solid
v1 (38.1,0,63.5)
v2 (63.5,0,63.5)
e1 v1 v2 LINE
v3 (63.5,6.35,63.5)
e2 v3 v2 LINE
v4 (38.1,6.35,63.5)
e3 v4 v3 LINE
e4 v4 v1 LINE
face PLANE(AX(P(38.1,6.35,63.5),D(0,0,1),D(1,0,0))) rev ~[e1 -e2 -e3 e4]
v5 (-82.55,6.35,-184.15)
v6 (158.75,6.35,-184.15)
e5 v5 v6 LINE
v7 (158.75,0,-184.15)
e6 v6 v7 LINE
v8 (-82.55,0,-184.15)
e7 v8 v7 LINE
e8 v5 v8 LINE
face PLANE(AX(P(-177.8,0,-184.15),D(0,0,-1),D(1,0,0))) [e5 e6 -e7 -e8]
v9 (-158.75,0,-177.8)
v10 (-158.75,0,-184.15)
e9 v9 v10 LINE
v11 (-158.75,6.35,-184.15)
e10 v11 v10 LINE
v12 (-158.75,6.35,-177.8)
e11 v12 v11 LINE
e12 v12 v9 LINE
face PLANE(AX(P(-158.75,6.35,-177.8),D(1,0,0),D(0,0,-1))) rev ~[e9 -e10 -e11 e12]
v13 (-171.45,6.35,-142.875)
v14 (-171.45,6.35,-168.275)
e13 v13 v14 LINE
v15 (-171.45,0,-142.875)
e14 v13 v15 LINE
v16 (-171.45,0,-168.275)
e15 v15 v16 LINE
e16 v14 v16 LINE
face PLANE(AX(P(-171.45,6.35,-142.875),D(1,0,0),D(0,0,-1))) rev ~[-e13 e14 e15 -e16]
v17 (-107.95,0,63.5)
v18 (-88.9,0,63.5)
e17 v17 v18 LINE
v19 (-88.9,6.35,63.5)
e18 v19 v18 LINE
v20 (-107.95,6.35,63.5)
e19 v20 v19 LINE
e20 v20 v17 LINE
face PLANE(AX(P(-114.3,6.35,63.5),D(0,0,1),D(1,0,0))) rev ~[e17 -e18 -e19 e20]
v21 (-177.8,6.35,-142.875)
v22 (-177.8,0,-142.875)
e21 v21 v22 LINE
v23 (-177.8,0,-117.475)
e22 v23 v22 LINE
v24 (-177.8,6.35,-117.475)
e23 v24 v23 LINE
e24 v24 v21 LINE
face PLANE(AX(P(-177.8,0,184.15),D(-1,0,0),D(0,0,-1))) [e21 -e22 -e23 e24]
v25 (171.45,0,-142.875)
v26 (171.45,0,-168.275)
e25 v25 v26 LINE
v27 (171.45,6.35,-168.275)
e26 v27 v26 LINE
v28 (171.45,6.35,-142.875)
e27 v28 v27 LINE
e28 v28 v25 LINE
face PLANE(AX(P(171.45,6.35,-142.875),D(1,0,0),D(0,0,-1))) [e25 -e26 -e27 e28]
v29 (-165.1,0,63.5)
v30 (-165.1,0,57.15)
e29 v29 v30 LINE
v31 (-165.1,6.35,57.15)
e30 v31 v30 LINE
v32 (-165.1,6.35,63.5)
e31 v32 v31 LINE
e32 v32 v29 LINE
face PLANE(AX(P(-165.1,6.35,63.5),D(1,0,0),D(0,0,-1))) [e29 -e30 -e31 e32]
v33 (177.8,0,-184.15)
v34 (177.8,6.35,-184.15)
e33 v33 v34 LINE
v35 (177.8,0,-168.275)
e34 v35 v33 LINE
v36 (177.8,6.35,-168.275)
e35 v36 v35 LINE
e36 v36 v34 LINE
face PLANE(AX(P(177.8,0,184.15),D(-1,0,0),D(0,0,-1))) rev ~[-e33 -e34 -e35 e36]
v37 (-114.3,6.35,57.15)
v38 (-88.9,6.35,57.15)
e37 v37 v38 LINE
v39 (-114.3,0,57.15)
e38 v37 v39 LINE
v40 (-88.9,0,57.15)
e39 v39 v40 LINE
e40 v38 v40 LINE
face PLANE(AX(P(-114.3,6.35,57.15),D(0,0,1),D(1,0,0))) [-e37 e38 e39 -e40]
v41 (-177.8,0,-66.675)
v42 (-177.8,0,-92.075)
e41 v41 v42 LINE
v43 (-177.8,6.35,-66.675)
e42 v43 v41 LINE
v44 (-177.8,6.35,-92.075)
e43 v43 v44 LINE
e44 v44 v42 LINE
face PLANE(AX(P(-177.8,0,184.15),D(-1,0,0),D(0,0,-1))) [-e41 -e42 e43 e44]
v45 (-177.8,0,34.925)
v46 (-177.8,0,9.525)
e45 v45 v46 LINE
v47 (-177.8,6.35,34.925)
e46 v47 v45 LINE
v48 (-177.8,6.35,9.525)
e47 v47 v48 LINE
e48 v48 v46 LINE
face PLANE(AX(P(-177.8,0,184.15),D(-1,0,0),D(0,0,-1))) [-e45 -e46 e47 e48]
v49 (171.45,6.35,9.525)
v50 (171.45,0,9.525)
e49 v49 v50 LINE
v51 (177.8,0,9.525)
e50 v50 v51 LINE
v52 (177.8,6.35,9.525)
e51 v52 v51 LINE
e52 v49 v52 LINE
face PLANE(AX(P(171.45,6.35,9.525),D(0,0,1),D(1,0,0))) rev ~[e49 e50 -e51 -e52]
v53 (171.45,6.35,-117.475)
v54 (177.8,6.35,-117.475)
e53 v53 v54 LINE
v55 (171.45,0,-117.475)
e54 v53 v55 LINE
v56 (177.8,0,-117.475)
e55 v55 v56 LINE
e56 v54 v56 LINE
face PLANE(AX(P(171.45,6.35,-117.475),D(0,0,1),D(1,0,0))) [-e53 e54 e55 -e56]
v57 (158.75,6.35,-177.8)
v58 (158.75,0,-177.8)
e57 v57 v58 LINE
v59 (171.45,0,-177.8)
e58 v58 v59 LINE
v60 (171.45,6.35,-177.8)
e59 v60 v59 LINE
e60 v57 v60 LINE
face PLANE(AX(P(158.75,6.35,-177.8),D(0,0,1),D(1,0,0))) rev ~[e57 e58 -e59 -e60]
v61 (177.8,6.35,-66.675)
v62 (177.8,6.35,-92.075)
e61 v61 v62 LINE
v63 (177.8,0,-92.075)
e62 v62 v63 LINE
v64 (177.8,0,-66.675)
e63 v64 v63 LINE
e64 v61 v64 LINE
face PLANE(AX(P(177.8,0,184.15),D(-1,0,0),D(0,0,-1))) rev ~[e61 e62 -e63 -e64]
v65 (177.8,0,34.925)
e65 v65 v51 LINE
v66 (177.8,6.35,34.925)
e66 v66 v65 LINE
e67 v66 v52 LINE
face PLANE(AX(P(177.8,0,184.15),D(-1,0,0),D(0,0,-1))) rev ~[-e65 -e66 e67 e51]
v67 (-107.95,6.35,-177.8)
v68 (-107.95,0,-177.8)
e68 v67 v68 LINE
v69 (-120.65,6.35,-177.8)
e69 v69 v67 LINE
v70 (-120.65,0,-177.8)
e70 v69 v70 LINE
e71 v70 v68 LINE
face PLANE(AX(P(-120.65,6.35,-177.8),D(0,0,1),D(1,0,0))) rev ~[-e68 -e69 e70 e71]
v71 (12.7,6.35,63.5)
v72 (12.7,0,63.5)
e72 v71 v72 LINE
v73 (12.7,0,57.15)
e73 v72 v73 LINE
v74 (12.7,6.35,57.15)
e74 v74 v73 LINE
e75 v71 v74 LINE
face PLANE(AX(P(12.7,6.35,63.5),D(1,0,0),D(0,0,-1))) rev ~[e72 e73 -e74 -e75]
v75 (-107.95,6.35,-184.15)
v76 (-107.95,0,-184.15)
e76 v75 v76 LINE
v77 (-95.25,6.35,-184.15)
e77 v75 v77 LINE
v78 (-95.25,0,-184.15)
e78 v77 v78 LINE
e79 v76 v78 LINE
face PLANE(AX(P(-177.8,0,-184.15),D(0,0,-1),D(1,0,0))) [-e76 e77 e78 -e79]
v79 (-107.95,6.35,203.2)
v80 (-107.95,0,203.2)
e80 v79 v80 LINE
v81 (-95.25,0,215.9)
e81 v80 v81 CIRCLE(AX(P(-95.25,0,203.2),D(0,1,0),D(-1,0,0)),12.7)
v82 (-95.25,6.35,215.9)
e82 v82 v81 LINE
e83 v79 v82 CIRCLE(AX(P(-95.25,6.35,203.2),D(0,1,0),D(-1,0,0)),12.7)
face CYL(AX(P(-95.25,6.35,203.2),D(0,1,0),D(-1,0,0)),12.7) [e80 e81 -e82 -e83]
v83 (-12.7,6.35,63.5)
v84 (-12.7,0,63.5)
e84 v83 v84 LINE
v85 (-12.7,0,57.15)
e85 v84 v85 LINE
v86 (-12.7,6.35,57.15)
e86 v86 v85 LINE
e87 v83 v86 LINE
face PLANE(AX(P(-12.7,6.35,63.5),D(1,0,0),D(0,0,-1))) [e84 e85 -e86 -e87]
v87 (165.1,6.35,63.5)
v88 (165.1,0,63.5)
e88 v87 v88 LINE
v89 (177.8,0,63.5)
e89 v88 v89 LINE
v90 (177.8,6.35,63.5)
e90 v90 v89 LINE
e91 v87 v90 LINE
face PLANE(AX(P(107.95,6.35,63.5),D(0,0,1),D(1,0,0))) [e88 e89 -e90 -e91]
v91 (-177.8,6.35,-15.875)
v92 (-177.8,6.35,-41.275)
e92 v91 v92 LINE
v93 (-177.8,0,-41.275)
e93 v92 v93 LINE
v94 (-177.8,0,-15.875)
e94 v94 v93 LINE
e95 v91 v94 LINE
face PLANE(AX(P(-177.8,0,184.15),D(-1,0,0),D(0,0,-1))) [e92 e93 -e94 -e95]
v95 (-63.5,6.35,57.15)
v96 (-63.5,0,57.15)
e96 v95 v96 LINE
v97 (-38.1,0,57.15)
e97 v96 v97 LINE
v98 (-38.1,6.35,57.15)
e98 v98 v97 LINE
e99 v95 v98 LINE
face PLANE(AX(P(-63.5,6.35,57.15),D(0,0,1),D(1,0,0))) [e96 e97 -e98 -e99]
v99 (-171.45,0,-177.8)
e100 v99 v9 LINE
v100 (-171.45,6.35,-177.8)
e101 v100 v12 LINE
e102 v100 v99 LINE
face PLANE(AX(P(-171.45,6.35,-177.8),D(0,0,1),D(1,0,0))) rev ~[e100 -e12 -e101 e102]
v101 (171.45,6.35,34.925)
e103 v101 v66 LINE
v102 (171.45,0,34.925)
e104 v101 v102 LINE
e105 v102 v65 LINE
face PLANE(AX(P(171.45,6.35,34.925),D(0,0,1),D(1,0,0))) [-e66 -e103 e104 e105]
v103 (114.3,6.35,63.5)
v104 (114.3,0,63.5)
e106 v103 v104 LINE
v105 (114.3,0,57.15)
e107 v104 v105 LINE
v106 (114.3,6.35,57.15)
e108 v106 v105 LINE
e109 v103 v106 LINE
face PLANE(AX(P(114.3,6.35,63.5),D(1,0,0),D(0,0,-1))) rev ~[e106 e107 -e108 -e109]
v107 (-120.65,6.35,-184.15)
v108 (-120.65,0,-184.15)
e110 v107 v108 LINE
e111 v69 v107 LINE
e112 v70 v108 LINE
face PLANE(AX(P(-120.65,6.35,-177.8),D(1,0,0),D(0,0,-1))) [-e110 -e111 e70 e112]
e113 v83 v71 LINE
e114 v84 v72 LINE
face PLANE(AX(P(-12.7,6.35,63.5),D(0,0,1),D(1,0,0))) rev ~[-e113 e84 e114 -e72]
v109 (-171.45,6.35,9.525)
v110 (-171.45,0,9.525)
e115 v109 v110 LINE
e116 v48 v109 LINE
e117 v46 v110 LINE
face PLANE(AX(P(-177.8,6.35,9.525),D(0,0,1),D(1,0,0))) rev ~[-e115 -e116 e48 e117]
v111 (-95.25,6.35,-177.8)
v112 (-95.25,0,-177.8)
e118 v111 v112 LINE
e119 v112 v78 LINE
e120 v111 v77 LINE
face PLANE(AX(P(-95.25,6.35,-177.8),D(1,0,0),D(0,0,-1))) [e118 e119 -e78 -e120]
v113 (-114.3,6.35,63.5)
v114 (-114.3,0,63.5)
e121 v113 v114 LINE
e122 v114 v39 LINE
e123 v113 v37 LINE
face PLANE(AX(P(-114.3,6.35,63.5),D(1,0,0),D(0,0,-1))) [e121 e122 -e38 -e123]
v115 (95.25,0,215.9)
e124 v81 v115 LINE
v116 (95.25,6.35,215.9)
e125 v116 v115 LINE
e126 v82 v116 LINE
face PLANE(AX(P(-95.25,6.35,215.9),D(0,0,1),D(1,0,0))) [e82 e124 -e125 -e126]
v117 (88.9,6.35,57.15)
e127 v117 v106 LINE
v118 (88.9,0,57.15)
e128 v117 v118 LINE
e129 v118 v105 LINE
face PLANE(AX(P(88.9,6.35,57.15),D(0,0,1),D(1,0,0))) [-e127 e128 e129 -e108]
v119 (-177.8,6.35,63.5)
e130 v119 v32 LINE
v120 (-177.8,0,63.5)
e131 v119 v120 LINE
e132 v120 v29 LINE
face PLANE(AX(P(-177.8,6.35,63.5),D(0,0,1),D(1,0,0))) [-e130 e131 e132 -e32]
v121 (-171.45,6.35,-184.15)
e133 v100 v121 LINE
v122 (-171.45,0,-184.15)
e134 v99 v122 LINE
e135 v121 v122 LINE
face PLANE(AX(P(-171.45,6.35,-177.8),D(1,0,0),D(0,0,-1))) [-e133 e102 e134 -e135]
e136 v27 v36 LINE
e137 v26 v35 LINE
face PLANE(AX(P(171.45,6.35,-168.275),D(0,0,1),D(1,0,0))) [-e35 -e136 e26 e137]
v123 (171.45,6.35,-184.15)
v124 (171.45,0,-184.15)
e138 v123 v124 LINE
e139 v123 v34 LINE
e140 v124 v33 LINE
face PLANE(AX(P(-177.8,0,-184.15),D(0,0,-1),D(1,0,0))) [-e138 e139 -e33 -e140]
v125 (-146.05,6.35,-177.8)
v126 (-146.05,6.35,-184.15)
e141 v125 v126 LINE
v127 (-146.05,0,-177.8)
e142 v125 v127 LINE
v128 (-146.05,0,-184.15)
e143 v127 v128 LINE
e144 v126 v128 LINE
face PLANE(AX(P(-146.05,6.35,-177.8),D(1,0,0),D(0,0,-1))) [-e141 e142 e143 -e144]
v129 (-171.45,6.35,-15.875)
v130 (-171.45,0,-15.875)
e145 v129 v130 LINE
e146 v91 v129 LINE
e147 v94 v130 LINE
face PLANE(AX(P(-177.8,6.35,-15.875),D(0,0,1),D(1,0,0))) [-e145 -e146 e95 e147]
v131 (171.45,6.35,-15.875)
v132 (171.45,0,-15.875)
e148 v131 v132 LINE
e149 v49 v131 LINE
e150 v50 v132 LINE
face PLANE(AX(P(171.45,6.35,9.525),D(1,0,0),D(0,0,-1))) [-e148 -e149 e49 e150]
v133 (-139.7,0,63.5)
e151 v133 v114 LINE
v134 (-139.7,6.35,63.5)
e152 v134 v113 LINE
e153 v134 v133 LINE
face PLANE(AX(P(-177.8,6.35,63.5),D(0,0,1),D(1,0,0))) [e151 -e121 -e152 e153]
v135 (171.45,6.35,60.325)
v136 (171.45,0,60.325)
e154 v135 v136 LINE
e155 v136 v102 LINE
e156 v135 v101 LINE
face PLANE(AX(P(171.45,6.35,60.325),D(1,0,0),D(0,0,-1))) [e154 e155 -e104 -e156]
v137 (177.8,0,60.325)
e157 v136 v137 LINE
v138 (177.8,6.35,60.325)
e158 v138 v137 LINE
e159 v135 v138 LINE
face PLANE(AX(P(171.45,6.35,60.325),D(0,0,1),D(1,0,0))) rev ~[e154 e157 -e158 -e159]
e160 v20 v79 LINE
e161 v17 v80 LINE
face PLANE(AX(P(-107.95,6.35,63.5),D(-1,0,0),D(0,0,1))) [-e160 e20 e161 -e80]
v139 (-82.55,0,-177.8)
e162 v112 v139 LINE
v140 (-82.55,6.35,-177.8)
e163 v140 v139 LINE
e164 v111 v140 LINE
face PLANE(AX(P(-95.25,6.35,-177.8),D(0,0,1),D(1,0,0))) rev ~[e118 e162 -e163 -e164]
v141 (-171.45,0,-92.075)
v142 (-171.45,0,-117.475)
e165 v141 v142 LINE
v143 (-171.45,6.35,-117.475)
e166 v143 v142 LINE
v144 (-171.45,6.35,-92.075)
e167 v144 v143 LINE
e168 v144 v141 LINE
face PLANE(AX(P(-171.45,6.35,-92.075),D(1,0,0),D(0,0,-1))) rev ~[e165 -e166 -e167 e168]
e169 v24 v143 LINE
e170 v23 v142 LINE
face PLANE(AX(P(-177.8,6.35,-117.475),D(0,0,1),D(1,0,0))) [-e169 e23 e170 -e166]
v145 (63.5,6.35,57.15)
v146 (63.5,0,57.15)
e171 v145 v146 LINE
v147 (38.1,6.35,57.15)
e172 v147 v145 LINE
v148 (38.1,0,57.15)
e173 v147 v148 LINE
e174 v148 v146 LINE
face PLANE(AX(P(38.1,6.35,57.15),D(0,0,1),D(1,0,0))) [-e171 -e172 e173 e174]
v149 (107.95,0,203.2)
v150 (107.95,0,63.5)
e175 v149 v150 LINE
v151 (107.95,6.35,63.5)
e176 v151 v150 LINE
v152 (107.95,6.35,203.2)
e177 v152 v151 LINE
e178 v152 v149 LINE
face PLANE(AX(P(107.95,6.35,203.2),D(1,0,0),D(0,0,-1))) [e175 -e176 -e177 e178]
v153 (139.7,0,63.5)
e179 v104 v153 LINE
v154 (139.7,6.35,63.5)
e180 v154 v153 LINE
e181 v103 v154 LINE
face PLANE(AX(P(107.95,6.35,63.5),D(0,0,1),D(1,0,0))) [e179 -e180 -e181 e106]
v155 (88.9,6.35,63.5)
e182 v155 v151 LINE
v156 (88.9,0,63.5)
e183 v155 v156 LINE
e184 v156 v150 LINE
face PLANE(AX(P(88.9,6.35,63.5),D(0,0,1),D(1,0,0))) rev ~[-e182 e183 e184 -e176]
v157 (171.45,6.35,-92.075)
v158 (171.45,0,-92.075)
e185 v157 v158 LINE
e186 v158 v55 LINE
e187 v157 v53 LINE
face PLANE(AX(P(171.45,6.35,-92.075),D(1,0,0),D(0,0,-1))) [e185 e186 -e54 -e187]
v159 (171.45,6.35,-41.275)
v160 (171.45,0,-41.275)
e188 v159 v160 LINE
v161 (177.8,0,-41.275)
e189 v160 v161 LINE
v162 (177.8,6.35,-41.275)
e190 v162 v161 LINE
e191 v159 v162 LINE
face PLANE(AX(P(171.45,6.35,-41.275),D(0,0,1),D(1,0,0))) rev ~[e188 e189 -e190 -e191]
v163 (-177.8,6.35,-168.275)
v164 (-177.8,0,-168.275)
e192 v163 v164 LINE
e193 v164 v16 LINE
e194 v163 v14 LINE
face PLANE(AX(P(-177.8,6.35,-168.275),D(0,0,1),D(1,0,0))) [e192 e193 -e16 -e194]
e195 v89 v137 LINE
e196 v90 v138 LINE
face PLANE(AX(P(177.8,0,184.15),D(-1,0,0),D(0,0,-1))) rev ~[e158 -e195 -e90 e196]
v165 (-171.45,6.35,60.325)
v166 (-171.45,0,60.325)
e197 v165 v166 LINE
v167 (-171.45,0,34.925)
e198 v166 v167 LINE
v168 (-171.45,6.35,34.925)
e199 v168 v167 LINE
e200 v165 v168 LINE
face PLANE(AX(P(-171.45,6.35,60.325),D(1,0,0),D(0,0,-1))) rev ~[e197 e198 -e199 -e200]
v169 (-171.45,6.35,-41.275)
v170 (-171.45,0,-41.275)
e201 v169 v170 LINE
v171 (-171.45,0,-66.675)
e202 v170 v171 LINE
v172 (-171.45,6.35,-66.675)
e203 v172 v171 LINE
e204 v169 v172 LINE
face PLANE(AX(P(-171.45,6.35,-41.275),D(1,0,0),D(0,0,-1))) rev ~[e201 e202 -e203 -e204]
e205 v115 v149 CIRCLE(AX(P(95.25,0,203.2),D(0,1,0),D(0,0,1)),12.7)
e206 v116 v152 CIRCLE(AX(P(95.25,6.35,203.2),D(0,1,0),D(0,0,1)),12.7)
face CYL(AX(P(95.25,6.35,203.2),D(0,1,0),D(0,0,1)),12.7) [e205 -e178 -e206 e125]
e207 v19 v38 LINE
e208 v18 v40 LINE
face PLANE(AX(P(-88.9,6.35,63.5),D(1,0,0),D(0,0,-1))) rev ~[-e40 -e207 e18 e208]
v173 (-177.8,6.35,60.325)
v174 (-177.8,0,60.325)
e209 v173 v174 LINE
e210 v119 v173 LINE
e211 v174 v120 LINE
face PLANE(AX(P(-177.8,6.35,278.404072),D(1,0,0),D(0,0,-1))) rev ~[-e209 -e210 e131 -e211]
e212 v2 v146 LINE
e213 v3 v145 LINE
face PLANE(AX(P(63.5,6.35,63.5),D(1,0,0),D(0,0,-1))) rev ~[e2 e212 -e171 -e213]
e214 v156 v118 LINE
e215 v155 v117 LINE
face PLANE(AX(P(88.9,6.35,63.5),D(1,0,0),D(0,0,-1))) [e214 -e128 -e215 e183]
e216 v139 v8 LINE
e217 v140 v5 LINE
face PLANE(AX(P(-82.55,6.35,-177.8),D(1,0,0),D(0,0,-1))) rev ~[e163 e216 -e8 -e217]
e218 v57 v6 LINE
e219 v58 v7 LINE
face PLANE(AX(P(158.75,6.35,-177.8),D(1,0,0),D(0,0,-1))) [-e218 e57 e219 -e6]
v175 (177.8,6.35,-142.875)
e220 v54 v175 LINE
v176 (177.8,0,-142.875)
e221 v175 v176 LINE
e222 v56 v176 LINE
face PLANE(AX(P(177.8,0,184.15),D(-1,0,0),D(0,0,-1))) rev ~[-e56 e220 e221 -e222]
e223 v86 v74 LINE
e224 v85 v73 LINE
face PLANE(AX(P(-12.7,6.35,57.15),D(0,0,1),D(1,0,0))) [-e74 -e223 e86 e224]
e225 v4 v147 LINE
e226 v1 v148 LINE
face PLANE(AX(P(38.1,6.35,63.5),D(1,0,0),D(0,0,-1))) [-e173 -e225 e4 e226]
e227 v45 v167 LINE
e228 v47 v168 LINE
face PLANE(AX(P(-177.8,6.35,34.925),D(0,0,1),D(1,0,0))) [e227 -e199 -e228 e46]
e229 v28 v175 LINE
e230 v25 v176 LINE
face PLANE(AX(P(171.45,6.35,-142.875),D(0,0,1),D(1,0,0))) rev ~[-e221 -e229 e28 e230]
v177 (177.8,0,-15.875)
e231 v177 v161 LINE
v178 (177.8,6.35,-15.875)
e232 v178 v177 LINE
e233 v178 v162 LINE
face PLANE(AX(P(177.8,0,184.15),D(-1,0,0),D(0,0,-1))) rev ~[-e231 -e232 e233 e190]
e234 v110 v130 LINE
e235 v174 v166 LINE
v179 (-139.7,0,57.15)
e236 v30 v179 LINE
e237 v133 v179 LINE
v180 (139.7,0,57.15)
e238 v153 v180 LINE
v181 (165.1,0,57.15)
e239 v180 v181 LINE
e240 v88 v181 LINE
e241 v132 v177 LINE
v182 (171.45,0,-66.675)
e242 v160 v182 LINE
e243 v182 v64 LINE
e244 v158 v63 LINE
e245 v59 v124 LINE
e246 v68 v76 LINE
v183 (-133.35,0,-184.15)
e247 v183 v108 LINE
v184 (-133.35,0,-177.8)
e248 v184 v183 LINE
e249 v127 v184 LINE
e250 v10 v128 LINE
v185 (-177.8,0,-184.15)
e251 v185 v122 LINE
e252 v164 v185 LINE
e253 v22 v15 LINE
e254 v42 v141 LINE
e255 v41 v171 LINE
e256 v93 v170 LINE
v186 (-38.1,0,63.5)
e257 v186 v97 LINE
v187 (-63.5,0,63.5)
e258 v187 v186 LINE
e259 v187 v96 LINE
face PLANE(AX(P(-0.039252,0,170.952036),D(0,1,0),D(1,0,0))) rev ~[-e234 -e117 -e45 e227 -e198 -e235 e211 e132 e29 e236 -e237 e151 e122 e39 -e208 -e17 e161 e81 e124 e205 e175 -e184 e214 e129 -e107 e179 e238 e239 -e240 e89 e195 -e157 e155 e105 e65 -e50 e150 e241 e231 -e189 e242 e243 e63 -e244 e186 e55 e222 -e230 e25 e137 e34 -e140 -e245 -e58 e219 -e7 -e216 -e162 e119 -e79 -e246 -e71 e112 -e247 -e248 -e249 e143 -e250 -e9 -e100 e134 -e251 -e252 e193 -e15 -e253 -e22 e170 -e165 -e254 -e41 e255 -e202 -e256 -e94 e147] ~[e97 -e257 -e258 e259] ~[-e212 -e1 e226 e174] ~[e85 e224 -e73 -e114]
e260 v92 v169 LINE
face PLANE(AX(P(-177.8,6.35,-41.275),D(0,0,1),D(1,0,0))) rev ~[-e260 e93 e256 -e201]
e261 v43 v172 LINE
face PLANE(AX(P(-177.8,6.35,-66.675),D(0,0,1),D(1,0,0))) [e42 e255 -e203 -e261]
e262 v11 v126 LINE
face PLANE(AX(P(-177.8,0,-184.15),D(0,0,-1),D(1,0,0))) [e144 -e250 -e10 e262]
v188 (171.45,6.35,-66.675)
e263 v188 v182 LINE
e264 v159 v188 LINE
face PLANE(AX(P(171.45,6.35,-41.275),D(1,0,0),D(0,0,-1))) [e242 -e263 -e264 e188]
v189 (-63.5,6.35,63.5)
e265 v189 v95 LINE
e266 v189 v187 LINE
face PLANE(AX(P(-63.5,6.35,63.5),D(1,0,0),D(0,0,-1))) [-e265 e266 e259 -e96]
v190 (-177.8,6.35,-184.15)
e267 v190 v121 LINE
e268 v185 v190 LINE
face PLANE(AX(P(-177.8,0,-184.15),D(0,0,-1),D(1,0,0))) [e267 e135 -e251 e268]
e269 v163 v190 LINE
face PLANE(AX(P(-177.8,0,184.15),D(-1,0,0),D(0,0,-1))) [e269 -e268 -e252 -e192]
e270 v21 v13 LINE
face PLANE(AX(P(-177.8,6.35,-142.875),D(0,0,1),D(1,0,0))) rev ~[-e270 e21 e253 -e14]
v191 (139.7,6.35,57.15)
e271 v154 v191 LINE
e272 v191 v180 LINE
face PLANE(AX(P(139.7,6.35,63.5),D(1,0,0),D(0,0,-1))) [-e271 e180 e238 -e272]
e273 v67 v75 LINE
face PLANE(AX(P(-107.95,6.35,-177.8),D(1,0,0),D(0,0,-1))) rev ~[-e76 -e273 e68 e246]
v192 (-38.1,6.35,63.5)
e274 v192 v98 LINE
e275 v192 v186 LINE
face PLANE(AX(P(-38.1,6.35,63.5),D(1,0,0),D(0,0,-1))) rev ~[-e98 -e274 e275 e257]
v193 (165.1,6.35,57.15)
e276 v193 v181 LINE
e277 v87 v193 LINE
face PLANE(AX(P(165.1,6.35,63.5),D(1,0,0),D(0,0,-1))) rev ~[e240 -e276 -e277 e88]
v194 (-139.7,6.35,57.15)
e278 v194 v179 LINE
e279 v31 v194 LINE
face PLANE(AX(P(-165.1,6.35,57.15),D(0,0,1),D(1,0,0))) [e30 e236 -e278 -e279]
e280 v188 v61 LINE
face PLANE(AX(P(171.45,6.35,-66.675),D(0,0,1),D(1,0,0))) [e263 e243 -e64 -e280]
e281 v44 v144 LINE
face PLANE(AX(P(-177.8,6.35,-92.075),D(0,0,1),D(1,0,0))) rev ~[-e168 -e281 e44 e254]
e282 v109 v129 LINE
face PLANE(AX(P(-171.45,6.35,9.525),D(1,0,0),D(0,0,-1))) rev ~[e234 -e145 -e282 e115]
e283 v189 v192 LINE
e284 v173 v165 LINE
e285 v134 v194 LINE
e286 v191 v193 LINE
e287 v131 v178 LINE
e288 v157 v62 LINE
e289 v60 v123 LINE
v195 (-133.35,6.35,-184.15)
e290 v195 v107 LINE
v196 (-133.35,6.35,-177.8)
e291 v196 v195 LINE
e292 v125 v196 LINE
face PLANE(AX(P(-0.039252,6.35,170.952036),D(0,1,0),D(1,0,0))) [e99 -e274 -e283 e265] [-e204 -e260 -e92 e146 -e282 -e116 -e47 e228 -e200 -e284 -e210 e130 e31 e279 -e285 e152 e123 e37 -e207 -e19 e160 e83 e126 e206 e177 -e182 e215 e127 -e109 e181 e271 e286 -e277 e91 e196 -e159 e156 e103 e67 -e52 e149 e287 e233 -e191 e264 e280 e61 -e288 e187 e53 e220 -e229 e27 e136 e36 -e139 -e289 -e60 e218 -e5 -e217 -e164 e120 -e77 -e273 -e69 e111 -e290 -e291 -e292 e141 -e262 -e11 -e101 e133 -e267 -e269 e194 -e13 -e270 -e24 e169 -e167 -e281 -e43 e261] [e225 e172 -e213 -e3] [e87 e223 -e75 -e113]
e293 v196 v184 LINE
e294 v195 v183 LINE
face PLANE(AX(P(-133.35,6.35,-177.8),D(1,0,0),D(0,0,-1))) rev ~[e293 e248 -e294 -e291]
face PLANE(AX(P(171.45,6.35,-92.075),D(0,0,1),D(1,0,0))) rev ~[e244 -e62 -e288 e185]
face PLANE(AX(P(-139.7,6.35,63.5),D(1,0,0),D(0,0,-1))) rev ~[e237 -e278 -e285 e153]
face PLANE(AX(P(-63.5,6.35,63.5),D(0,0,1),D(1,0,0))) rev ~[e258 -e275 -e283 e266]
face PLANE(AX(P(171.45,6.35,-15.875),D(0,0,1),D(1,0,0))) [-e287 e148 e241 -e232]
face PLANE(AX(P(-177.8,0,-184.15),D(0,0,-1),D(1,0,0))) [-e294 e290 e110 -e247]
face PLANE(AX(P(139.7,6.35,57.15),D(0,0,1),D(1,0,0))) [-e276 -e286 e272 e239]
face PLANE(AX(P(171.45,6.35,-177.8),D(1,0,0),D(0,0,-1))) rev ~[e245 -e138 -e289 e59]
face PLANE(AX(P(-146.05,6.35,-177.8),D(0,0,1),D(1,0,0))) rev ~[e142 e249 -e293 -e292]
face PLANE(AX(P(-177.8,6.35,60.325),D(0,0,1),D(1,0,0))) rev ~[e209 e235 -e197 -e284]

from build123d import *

# Parameters (mm, degrees)
ESQUISSE1_W                     = 355.6
ESQUISSE1_H                     = 368.3
BOSS_EXTRU_1_DEPTH              = 6.35
ESQUISSE2_W                     = 6.35
ESQUISSE2_H                     = 25.4
ENL_V_MAT_EXTRU_1_DEPTH         = 6.35
R_P_TITION_LIN_AIRE1_COUNT      = 7
R_P_TITION_LIN_AIRE1_PITCH      = 50.8
R_P_TITION_LIN_AIRE1_COUNT_DIR2 = 2
R_P_TITION_LIN_AIRE1_PITCH_DIR2 = 349.25
ESQUISSE3_W                     = 25.4
ESQUISSE3_H                     = 6.35
ENL_V_MAT_EXTRU_2_DEPTH         = 6.35
R_P_TITION_LIN_AIRE2_COUNT      = 7
R_P_TITION_LIN_AIRE2_PITCH      = 50.8
ESQUISSE4_W                     = 25.4
ESQUISSE4_H                     = 6.35
ENL_V_MAT_EXTRU_3_DEPTH         = 6.35
R_P_TITION_LIN_AIRE3_COUNT      = 7
R_P_TITION_LIN_AIRE3_PITCH      = 50.8
ESQUISSE5_W                     = 12.7
ESQUISSE5_H                     = 6.35
ENL_V_MAT_EXTRU_4_DEPTH         = 6.35
SKETCH3_W                       = 355.521495667
SKETCH3_H                       = 214.90407248
BOSS_EXTRUDE1_DEPTH             = 6.35
CUT_EXTRUDE2_DEPTH              = 331.396716197


with BuildPart() as part:
    # Esquisse1 → Boss.-Extru.1 (new body)
    with BuildSketch(Plane(origin=(0, 0, 0), x_dir=(1, 0, 0), z_dir=(0, 1, 0))):
        Rectangle(ESQUISSE1_W, ESQUISSE1_H)
    extrude(amount=BOSS_EXTRU_1_DEPTH)

    # Esquisse2 → Enlèv. mat.-Extru.1 (cut)
    with BuildSketch(Plane(origin=(0, 6.35, 0), x_dir=(1, 0, 0), z_dir=(0, 1, 0))):
        with Locations((174.625, -149.225)):
            Rectangle(ESQUISSE2_W, ESQUISSE2_H)
    enl_v_mat_extru_1 = extrude(amount=-ENL_V_MAT_EXTRU_1_DEPTH, mode=Mode.SUBTRACT)

    # Répétition linéaire1: Enl_v. mat.-Extru.1 7 × 2
    with Locations(*[(-j * R_P_TITION_LIN_AIRE1_PITCH_DIR2, 0, -i * R_P_TITION_LIN_AIRE1_PITCH) for i in range(R_P_TITION_LIN_AIRE1_COUNT) for j in range(R_P_TITION_LIN_AIRE1_COUNT_DIR2) if (i, j) != (0, 0)]):
        add(enl_v_mat_extru_1, mode=Mode.SUBTRACT)

    # Esquisse3 → Enlèv. mat.-Extru.2 (cut)
    with BuildSketch(Plane(origin=(0, 6.35, 0), x_dir=(1, 0, 0), z_dir=(0, 1, 0))):
        with Locations((-152.4, -180.975)):
            Rectangle(ESQUISSE3_W, ESQUISSE3_H)
    enl_v_mat_extru_2 = extrude(amount=-ENL_V_MAT_EXTRU_2_DEPTH, mode=Mode.SUBTRACT)

    # Répétition linéaire2: Enlèv. mat.-Extru.2 ×7
    with Locations(*[(i * R_P_TITION_LIN_AIRE2_PITCH, 0, 0) for i in range(1, R_P_TITION_LIN_AIRE2_COUNT)]):
        add(enl_v_mat_extru_2, mode=Mode.SUBTRACT)

    # Esquisse4 → Enlèv. mat.-Extru.3 (cut)
    with BuildSketch(Plane(origin=(0, 6.35, 0), x_dir=(1, 0, 0), z_dir=(0, 1, 0))):
        with Locations((-152.4, -60.325)):
            Rectangle(ESQUISSE4_W, ESQUISSE4_H)
    enl_v_mat_extru_3 = extrude(amount=-ENL_V_MAT_EXTRU_3_DEPTH, mode=Mode.SUBTRACT)

    # Répétition linéaire3: Enlèv. mat.-Extru.3 ×7
    with Locations(*[(i * R_P_TITION_LIN_AIRE3_PITCH, 0, 0) for i in range(1, R_P_TITION_LIN_AIRE3_COUNT)]):
        add(enl_v_mat_extru_3, mode=Mode.SUBTRACT)

    # Esquisse5 → Enlèv. mat.-Extru.4 (cut)
    with BuildSketch(Plane(origin=(0, 6.35, 0), x_dir=(1, 0, 0), z_dir=(0, 1, 0))):
        with Locations((-165.1, 180.975)):
            Rectangle(ESQUISSE5_W, ESQUISSE5_H)
        with Locations((165.1, 180.975)):
            Rectangle(ESQUISSE5_W, ESQUISSE5_H)
        with Locations((-139.7, 180.975)):
            Rectangle(ESQUISSE5_W, ESQUISSE5_H)
        with Locations((-114.3, 180.975)):
            Rectangle(ESQUISSE5_W, ESQUISSE5_H)
        with Locations((-88.9, 180.975)):
            Rectangle(ESQUISSE5_W, ESQUISSE5_H)
    extrude(amount=-ENL_V_MAT_EXTRU_4_DEPTH, mode=Mode.SUBTRACT)

    # Sketch3 → Boss-Extrude1 (add)
    with BuildSketch(Plane(origin=(0, 6.35, 0), x_dir=(1, 0, 0), z_dir=(0, 1, 0))):
        with Locations((-0.039252167, -170.95203624)):
            Rectangle(SKETCH3_W, SKETCH3_H)
    extrude(amount=-BOSS_EXTRUDE1_DEPTH)

    # Sketch1 → Cut-Extrude2 (cut, through all)
    with BuildSketch(Plane(origin=(0, 6.35, 0), x_dir=(1, 0, 0), z_dir=(0, 1, 0))):
        with BuildLine():
            Line((-95.25, -215.9), (95.25, -215.9))
            ThreePointArc((95.25, -215.9), (104.230256121, -212.180256121), (107.95, -203.2))
            Line((107.95, -203.2), (107.95, -63.5))
            Line((107.95, -63.5), (177.8, -63.5))
            Line((177.8, -63.5), (177.8, -278.40407248))
            Line((177.8, -278.40407248), (-177.8, -278.40407248))
            Line((-177.8, -278.40407248), (-177.8, -63.5))
            Line((-177.8, -63.5), (-107.95, -63.5))
            Line((-107.95, -63.5), (-107.95, -203.2))
            ThreePointArc((-107.95, -203.2), (-104.230256121, -212.180256121), (-95.25, -215.9))
        make_face()
    extrude(amount=-CUT_EXTRUDE2_DEPTH, mode=Mode.SUBTRACT)


solid = part.part
